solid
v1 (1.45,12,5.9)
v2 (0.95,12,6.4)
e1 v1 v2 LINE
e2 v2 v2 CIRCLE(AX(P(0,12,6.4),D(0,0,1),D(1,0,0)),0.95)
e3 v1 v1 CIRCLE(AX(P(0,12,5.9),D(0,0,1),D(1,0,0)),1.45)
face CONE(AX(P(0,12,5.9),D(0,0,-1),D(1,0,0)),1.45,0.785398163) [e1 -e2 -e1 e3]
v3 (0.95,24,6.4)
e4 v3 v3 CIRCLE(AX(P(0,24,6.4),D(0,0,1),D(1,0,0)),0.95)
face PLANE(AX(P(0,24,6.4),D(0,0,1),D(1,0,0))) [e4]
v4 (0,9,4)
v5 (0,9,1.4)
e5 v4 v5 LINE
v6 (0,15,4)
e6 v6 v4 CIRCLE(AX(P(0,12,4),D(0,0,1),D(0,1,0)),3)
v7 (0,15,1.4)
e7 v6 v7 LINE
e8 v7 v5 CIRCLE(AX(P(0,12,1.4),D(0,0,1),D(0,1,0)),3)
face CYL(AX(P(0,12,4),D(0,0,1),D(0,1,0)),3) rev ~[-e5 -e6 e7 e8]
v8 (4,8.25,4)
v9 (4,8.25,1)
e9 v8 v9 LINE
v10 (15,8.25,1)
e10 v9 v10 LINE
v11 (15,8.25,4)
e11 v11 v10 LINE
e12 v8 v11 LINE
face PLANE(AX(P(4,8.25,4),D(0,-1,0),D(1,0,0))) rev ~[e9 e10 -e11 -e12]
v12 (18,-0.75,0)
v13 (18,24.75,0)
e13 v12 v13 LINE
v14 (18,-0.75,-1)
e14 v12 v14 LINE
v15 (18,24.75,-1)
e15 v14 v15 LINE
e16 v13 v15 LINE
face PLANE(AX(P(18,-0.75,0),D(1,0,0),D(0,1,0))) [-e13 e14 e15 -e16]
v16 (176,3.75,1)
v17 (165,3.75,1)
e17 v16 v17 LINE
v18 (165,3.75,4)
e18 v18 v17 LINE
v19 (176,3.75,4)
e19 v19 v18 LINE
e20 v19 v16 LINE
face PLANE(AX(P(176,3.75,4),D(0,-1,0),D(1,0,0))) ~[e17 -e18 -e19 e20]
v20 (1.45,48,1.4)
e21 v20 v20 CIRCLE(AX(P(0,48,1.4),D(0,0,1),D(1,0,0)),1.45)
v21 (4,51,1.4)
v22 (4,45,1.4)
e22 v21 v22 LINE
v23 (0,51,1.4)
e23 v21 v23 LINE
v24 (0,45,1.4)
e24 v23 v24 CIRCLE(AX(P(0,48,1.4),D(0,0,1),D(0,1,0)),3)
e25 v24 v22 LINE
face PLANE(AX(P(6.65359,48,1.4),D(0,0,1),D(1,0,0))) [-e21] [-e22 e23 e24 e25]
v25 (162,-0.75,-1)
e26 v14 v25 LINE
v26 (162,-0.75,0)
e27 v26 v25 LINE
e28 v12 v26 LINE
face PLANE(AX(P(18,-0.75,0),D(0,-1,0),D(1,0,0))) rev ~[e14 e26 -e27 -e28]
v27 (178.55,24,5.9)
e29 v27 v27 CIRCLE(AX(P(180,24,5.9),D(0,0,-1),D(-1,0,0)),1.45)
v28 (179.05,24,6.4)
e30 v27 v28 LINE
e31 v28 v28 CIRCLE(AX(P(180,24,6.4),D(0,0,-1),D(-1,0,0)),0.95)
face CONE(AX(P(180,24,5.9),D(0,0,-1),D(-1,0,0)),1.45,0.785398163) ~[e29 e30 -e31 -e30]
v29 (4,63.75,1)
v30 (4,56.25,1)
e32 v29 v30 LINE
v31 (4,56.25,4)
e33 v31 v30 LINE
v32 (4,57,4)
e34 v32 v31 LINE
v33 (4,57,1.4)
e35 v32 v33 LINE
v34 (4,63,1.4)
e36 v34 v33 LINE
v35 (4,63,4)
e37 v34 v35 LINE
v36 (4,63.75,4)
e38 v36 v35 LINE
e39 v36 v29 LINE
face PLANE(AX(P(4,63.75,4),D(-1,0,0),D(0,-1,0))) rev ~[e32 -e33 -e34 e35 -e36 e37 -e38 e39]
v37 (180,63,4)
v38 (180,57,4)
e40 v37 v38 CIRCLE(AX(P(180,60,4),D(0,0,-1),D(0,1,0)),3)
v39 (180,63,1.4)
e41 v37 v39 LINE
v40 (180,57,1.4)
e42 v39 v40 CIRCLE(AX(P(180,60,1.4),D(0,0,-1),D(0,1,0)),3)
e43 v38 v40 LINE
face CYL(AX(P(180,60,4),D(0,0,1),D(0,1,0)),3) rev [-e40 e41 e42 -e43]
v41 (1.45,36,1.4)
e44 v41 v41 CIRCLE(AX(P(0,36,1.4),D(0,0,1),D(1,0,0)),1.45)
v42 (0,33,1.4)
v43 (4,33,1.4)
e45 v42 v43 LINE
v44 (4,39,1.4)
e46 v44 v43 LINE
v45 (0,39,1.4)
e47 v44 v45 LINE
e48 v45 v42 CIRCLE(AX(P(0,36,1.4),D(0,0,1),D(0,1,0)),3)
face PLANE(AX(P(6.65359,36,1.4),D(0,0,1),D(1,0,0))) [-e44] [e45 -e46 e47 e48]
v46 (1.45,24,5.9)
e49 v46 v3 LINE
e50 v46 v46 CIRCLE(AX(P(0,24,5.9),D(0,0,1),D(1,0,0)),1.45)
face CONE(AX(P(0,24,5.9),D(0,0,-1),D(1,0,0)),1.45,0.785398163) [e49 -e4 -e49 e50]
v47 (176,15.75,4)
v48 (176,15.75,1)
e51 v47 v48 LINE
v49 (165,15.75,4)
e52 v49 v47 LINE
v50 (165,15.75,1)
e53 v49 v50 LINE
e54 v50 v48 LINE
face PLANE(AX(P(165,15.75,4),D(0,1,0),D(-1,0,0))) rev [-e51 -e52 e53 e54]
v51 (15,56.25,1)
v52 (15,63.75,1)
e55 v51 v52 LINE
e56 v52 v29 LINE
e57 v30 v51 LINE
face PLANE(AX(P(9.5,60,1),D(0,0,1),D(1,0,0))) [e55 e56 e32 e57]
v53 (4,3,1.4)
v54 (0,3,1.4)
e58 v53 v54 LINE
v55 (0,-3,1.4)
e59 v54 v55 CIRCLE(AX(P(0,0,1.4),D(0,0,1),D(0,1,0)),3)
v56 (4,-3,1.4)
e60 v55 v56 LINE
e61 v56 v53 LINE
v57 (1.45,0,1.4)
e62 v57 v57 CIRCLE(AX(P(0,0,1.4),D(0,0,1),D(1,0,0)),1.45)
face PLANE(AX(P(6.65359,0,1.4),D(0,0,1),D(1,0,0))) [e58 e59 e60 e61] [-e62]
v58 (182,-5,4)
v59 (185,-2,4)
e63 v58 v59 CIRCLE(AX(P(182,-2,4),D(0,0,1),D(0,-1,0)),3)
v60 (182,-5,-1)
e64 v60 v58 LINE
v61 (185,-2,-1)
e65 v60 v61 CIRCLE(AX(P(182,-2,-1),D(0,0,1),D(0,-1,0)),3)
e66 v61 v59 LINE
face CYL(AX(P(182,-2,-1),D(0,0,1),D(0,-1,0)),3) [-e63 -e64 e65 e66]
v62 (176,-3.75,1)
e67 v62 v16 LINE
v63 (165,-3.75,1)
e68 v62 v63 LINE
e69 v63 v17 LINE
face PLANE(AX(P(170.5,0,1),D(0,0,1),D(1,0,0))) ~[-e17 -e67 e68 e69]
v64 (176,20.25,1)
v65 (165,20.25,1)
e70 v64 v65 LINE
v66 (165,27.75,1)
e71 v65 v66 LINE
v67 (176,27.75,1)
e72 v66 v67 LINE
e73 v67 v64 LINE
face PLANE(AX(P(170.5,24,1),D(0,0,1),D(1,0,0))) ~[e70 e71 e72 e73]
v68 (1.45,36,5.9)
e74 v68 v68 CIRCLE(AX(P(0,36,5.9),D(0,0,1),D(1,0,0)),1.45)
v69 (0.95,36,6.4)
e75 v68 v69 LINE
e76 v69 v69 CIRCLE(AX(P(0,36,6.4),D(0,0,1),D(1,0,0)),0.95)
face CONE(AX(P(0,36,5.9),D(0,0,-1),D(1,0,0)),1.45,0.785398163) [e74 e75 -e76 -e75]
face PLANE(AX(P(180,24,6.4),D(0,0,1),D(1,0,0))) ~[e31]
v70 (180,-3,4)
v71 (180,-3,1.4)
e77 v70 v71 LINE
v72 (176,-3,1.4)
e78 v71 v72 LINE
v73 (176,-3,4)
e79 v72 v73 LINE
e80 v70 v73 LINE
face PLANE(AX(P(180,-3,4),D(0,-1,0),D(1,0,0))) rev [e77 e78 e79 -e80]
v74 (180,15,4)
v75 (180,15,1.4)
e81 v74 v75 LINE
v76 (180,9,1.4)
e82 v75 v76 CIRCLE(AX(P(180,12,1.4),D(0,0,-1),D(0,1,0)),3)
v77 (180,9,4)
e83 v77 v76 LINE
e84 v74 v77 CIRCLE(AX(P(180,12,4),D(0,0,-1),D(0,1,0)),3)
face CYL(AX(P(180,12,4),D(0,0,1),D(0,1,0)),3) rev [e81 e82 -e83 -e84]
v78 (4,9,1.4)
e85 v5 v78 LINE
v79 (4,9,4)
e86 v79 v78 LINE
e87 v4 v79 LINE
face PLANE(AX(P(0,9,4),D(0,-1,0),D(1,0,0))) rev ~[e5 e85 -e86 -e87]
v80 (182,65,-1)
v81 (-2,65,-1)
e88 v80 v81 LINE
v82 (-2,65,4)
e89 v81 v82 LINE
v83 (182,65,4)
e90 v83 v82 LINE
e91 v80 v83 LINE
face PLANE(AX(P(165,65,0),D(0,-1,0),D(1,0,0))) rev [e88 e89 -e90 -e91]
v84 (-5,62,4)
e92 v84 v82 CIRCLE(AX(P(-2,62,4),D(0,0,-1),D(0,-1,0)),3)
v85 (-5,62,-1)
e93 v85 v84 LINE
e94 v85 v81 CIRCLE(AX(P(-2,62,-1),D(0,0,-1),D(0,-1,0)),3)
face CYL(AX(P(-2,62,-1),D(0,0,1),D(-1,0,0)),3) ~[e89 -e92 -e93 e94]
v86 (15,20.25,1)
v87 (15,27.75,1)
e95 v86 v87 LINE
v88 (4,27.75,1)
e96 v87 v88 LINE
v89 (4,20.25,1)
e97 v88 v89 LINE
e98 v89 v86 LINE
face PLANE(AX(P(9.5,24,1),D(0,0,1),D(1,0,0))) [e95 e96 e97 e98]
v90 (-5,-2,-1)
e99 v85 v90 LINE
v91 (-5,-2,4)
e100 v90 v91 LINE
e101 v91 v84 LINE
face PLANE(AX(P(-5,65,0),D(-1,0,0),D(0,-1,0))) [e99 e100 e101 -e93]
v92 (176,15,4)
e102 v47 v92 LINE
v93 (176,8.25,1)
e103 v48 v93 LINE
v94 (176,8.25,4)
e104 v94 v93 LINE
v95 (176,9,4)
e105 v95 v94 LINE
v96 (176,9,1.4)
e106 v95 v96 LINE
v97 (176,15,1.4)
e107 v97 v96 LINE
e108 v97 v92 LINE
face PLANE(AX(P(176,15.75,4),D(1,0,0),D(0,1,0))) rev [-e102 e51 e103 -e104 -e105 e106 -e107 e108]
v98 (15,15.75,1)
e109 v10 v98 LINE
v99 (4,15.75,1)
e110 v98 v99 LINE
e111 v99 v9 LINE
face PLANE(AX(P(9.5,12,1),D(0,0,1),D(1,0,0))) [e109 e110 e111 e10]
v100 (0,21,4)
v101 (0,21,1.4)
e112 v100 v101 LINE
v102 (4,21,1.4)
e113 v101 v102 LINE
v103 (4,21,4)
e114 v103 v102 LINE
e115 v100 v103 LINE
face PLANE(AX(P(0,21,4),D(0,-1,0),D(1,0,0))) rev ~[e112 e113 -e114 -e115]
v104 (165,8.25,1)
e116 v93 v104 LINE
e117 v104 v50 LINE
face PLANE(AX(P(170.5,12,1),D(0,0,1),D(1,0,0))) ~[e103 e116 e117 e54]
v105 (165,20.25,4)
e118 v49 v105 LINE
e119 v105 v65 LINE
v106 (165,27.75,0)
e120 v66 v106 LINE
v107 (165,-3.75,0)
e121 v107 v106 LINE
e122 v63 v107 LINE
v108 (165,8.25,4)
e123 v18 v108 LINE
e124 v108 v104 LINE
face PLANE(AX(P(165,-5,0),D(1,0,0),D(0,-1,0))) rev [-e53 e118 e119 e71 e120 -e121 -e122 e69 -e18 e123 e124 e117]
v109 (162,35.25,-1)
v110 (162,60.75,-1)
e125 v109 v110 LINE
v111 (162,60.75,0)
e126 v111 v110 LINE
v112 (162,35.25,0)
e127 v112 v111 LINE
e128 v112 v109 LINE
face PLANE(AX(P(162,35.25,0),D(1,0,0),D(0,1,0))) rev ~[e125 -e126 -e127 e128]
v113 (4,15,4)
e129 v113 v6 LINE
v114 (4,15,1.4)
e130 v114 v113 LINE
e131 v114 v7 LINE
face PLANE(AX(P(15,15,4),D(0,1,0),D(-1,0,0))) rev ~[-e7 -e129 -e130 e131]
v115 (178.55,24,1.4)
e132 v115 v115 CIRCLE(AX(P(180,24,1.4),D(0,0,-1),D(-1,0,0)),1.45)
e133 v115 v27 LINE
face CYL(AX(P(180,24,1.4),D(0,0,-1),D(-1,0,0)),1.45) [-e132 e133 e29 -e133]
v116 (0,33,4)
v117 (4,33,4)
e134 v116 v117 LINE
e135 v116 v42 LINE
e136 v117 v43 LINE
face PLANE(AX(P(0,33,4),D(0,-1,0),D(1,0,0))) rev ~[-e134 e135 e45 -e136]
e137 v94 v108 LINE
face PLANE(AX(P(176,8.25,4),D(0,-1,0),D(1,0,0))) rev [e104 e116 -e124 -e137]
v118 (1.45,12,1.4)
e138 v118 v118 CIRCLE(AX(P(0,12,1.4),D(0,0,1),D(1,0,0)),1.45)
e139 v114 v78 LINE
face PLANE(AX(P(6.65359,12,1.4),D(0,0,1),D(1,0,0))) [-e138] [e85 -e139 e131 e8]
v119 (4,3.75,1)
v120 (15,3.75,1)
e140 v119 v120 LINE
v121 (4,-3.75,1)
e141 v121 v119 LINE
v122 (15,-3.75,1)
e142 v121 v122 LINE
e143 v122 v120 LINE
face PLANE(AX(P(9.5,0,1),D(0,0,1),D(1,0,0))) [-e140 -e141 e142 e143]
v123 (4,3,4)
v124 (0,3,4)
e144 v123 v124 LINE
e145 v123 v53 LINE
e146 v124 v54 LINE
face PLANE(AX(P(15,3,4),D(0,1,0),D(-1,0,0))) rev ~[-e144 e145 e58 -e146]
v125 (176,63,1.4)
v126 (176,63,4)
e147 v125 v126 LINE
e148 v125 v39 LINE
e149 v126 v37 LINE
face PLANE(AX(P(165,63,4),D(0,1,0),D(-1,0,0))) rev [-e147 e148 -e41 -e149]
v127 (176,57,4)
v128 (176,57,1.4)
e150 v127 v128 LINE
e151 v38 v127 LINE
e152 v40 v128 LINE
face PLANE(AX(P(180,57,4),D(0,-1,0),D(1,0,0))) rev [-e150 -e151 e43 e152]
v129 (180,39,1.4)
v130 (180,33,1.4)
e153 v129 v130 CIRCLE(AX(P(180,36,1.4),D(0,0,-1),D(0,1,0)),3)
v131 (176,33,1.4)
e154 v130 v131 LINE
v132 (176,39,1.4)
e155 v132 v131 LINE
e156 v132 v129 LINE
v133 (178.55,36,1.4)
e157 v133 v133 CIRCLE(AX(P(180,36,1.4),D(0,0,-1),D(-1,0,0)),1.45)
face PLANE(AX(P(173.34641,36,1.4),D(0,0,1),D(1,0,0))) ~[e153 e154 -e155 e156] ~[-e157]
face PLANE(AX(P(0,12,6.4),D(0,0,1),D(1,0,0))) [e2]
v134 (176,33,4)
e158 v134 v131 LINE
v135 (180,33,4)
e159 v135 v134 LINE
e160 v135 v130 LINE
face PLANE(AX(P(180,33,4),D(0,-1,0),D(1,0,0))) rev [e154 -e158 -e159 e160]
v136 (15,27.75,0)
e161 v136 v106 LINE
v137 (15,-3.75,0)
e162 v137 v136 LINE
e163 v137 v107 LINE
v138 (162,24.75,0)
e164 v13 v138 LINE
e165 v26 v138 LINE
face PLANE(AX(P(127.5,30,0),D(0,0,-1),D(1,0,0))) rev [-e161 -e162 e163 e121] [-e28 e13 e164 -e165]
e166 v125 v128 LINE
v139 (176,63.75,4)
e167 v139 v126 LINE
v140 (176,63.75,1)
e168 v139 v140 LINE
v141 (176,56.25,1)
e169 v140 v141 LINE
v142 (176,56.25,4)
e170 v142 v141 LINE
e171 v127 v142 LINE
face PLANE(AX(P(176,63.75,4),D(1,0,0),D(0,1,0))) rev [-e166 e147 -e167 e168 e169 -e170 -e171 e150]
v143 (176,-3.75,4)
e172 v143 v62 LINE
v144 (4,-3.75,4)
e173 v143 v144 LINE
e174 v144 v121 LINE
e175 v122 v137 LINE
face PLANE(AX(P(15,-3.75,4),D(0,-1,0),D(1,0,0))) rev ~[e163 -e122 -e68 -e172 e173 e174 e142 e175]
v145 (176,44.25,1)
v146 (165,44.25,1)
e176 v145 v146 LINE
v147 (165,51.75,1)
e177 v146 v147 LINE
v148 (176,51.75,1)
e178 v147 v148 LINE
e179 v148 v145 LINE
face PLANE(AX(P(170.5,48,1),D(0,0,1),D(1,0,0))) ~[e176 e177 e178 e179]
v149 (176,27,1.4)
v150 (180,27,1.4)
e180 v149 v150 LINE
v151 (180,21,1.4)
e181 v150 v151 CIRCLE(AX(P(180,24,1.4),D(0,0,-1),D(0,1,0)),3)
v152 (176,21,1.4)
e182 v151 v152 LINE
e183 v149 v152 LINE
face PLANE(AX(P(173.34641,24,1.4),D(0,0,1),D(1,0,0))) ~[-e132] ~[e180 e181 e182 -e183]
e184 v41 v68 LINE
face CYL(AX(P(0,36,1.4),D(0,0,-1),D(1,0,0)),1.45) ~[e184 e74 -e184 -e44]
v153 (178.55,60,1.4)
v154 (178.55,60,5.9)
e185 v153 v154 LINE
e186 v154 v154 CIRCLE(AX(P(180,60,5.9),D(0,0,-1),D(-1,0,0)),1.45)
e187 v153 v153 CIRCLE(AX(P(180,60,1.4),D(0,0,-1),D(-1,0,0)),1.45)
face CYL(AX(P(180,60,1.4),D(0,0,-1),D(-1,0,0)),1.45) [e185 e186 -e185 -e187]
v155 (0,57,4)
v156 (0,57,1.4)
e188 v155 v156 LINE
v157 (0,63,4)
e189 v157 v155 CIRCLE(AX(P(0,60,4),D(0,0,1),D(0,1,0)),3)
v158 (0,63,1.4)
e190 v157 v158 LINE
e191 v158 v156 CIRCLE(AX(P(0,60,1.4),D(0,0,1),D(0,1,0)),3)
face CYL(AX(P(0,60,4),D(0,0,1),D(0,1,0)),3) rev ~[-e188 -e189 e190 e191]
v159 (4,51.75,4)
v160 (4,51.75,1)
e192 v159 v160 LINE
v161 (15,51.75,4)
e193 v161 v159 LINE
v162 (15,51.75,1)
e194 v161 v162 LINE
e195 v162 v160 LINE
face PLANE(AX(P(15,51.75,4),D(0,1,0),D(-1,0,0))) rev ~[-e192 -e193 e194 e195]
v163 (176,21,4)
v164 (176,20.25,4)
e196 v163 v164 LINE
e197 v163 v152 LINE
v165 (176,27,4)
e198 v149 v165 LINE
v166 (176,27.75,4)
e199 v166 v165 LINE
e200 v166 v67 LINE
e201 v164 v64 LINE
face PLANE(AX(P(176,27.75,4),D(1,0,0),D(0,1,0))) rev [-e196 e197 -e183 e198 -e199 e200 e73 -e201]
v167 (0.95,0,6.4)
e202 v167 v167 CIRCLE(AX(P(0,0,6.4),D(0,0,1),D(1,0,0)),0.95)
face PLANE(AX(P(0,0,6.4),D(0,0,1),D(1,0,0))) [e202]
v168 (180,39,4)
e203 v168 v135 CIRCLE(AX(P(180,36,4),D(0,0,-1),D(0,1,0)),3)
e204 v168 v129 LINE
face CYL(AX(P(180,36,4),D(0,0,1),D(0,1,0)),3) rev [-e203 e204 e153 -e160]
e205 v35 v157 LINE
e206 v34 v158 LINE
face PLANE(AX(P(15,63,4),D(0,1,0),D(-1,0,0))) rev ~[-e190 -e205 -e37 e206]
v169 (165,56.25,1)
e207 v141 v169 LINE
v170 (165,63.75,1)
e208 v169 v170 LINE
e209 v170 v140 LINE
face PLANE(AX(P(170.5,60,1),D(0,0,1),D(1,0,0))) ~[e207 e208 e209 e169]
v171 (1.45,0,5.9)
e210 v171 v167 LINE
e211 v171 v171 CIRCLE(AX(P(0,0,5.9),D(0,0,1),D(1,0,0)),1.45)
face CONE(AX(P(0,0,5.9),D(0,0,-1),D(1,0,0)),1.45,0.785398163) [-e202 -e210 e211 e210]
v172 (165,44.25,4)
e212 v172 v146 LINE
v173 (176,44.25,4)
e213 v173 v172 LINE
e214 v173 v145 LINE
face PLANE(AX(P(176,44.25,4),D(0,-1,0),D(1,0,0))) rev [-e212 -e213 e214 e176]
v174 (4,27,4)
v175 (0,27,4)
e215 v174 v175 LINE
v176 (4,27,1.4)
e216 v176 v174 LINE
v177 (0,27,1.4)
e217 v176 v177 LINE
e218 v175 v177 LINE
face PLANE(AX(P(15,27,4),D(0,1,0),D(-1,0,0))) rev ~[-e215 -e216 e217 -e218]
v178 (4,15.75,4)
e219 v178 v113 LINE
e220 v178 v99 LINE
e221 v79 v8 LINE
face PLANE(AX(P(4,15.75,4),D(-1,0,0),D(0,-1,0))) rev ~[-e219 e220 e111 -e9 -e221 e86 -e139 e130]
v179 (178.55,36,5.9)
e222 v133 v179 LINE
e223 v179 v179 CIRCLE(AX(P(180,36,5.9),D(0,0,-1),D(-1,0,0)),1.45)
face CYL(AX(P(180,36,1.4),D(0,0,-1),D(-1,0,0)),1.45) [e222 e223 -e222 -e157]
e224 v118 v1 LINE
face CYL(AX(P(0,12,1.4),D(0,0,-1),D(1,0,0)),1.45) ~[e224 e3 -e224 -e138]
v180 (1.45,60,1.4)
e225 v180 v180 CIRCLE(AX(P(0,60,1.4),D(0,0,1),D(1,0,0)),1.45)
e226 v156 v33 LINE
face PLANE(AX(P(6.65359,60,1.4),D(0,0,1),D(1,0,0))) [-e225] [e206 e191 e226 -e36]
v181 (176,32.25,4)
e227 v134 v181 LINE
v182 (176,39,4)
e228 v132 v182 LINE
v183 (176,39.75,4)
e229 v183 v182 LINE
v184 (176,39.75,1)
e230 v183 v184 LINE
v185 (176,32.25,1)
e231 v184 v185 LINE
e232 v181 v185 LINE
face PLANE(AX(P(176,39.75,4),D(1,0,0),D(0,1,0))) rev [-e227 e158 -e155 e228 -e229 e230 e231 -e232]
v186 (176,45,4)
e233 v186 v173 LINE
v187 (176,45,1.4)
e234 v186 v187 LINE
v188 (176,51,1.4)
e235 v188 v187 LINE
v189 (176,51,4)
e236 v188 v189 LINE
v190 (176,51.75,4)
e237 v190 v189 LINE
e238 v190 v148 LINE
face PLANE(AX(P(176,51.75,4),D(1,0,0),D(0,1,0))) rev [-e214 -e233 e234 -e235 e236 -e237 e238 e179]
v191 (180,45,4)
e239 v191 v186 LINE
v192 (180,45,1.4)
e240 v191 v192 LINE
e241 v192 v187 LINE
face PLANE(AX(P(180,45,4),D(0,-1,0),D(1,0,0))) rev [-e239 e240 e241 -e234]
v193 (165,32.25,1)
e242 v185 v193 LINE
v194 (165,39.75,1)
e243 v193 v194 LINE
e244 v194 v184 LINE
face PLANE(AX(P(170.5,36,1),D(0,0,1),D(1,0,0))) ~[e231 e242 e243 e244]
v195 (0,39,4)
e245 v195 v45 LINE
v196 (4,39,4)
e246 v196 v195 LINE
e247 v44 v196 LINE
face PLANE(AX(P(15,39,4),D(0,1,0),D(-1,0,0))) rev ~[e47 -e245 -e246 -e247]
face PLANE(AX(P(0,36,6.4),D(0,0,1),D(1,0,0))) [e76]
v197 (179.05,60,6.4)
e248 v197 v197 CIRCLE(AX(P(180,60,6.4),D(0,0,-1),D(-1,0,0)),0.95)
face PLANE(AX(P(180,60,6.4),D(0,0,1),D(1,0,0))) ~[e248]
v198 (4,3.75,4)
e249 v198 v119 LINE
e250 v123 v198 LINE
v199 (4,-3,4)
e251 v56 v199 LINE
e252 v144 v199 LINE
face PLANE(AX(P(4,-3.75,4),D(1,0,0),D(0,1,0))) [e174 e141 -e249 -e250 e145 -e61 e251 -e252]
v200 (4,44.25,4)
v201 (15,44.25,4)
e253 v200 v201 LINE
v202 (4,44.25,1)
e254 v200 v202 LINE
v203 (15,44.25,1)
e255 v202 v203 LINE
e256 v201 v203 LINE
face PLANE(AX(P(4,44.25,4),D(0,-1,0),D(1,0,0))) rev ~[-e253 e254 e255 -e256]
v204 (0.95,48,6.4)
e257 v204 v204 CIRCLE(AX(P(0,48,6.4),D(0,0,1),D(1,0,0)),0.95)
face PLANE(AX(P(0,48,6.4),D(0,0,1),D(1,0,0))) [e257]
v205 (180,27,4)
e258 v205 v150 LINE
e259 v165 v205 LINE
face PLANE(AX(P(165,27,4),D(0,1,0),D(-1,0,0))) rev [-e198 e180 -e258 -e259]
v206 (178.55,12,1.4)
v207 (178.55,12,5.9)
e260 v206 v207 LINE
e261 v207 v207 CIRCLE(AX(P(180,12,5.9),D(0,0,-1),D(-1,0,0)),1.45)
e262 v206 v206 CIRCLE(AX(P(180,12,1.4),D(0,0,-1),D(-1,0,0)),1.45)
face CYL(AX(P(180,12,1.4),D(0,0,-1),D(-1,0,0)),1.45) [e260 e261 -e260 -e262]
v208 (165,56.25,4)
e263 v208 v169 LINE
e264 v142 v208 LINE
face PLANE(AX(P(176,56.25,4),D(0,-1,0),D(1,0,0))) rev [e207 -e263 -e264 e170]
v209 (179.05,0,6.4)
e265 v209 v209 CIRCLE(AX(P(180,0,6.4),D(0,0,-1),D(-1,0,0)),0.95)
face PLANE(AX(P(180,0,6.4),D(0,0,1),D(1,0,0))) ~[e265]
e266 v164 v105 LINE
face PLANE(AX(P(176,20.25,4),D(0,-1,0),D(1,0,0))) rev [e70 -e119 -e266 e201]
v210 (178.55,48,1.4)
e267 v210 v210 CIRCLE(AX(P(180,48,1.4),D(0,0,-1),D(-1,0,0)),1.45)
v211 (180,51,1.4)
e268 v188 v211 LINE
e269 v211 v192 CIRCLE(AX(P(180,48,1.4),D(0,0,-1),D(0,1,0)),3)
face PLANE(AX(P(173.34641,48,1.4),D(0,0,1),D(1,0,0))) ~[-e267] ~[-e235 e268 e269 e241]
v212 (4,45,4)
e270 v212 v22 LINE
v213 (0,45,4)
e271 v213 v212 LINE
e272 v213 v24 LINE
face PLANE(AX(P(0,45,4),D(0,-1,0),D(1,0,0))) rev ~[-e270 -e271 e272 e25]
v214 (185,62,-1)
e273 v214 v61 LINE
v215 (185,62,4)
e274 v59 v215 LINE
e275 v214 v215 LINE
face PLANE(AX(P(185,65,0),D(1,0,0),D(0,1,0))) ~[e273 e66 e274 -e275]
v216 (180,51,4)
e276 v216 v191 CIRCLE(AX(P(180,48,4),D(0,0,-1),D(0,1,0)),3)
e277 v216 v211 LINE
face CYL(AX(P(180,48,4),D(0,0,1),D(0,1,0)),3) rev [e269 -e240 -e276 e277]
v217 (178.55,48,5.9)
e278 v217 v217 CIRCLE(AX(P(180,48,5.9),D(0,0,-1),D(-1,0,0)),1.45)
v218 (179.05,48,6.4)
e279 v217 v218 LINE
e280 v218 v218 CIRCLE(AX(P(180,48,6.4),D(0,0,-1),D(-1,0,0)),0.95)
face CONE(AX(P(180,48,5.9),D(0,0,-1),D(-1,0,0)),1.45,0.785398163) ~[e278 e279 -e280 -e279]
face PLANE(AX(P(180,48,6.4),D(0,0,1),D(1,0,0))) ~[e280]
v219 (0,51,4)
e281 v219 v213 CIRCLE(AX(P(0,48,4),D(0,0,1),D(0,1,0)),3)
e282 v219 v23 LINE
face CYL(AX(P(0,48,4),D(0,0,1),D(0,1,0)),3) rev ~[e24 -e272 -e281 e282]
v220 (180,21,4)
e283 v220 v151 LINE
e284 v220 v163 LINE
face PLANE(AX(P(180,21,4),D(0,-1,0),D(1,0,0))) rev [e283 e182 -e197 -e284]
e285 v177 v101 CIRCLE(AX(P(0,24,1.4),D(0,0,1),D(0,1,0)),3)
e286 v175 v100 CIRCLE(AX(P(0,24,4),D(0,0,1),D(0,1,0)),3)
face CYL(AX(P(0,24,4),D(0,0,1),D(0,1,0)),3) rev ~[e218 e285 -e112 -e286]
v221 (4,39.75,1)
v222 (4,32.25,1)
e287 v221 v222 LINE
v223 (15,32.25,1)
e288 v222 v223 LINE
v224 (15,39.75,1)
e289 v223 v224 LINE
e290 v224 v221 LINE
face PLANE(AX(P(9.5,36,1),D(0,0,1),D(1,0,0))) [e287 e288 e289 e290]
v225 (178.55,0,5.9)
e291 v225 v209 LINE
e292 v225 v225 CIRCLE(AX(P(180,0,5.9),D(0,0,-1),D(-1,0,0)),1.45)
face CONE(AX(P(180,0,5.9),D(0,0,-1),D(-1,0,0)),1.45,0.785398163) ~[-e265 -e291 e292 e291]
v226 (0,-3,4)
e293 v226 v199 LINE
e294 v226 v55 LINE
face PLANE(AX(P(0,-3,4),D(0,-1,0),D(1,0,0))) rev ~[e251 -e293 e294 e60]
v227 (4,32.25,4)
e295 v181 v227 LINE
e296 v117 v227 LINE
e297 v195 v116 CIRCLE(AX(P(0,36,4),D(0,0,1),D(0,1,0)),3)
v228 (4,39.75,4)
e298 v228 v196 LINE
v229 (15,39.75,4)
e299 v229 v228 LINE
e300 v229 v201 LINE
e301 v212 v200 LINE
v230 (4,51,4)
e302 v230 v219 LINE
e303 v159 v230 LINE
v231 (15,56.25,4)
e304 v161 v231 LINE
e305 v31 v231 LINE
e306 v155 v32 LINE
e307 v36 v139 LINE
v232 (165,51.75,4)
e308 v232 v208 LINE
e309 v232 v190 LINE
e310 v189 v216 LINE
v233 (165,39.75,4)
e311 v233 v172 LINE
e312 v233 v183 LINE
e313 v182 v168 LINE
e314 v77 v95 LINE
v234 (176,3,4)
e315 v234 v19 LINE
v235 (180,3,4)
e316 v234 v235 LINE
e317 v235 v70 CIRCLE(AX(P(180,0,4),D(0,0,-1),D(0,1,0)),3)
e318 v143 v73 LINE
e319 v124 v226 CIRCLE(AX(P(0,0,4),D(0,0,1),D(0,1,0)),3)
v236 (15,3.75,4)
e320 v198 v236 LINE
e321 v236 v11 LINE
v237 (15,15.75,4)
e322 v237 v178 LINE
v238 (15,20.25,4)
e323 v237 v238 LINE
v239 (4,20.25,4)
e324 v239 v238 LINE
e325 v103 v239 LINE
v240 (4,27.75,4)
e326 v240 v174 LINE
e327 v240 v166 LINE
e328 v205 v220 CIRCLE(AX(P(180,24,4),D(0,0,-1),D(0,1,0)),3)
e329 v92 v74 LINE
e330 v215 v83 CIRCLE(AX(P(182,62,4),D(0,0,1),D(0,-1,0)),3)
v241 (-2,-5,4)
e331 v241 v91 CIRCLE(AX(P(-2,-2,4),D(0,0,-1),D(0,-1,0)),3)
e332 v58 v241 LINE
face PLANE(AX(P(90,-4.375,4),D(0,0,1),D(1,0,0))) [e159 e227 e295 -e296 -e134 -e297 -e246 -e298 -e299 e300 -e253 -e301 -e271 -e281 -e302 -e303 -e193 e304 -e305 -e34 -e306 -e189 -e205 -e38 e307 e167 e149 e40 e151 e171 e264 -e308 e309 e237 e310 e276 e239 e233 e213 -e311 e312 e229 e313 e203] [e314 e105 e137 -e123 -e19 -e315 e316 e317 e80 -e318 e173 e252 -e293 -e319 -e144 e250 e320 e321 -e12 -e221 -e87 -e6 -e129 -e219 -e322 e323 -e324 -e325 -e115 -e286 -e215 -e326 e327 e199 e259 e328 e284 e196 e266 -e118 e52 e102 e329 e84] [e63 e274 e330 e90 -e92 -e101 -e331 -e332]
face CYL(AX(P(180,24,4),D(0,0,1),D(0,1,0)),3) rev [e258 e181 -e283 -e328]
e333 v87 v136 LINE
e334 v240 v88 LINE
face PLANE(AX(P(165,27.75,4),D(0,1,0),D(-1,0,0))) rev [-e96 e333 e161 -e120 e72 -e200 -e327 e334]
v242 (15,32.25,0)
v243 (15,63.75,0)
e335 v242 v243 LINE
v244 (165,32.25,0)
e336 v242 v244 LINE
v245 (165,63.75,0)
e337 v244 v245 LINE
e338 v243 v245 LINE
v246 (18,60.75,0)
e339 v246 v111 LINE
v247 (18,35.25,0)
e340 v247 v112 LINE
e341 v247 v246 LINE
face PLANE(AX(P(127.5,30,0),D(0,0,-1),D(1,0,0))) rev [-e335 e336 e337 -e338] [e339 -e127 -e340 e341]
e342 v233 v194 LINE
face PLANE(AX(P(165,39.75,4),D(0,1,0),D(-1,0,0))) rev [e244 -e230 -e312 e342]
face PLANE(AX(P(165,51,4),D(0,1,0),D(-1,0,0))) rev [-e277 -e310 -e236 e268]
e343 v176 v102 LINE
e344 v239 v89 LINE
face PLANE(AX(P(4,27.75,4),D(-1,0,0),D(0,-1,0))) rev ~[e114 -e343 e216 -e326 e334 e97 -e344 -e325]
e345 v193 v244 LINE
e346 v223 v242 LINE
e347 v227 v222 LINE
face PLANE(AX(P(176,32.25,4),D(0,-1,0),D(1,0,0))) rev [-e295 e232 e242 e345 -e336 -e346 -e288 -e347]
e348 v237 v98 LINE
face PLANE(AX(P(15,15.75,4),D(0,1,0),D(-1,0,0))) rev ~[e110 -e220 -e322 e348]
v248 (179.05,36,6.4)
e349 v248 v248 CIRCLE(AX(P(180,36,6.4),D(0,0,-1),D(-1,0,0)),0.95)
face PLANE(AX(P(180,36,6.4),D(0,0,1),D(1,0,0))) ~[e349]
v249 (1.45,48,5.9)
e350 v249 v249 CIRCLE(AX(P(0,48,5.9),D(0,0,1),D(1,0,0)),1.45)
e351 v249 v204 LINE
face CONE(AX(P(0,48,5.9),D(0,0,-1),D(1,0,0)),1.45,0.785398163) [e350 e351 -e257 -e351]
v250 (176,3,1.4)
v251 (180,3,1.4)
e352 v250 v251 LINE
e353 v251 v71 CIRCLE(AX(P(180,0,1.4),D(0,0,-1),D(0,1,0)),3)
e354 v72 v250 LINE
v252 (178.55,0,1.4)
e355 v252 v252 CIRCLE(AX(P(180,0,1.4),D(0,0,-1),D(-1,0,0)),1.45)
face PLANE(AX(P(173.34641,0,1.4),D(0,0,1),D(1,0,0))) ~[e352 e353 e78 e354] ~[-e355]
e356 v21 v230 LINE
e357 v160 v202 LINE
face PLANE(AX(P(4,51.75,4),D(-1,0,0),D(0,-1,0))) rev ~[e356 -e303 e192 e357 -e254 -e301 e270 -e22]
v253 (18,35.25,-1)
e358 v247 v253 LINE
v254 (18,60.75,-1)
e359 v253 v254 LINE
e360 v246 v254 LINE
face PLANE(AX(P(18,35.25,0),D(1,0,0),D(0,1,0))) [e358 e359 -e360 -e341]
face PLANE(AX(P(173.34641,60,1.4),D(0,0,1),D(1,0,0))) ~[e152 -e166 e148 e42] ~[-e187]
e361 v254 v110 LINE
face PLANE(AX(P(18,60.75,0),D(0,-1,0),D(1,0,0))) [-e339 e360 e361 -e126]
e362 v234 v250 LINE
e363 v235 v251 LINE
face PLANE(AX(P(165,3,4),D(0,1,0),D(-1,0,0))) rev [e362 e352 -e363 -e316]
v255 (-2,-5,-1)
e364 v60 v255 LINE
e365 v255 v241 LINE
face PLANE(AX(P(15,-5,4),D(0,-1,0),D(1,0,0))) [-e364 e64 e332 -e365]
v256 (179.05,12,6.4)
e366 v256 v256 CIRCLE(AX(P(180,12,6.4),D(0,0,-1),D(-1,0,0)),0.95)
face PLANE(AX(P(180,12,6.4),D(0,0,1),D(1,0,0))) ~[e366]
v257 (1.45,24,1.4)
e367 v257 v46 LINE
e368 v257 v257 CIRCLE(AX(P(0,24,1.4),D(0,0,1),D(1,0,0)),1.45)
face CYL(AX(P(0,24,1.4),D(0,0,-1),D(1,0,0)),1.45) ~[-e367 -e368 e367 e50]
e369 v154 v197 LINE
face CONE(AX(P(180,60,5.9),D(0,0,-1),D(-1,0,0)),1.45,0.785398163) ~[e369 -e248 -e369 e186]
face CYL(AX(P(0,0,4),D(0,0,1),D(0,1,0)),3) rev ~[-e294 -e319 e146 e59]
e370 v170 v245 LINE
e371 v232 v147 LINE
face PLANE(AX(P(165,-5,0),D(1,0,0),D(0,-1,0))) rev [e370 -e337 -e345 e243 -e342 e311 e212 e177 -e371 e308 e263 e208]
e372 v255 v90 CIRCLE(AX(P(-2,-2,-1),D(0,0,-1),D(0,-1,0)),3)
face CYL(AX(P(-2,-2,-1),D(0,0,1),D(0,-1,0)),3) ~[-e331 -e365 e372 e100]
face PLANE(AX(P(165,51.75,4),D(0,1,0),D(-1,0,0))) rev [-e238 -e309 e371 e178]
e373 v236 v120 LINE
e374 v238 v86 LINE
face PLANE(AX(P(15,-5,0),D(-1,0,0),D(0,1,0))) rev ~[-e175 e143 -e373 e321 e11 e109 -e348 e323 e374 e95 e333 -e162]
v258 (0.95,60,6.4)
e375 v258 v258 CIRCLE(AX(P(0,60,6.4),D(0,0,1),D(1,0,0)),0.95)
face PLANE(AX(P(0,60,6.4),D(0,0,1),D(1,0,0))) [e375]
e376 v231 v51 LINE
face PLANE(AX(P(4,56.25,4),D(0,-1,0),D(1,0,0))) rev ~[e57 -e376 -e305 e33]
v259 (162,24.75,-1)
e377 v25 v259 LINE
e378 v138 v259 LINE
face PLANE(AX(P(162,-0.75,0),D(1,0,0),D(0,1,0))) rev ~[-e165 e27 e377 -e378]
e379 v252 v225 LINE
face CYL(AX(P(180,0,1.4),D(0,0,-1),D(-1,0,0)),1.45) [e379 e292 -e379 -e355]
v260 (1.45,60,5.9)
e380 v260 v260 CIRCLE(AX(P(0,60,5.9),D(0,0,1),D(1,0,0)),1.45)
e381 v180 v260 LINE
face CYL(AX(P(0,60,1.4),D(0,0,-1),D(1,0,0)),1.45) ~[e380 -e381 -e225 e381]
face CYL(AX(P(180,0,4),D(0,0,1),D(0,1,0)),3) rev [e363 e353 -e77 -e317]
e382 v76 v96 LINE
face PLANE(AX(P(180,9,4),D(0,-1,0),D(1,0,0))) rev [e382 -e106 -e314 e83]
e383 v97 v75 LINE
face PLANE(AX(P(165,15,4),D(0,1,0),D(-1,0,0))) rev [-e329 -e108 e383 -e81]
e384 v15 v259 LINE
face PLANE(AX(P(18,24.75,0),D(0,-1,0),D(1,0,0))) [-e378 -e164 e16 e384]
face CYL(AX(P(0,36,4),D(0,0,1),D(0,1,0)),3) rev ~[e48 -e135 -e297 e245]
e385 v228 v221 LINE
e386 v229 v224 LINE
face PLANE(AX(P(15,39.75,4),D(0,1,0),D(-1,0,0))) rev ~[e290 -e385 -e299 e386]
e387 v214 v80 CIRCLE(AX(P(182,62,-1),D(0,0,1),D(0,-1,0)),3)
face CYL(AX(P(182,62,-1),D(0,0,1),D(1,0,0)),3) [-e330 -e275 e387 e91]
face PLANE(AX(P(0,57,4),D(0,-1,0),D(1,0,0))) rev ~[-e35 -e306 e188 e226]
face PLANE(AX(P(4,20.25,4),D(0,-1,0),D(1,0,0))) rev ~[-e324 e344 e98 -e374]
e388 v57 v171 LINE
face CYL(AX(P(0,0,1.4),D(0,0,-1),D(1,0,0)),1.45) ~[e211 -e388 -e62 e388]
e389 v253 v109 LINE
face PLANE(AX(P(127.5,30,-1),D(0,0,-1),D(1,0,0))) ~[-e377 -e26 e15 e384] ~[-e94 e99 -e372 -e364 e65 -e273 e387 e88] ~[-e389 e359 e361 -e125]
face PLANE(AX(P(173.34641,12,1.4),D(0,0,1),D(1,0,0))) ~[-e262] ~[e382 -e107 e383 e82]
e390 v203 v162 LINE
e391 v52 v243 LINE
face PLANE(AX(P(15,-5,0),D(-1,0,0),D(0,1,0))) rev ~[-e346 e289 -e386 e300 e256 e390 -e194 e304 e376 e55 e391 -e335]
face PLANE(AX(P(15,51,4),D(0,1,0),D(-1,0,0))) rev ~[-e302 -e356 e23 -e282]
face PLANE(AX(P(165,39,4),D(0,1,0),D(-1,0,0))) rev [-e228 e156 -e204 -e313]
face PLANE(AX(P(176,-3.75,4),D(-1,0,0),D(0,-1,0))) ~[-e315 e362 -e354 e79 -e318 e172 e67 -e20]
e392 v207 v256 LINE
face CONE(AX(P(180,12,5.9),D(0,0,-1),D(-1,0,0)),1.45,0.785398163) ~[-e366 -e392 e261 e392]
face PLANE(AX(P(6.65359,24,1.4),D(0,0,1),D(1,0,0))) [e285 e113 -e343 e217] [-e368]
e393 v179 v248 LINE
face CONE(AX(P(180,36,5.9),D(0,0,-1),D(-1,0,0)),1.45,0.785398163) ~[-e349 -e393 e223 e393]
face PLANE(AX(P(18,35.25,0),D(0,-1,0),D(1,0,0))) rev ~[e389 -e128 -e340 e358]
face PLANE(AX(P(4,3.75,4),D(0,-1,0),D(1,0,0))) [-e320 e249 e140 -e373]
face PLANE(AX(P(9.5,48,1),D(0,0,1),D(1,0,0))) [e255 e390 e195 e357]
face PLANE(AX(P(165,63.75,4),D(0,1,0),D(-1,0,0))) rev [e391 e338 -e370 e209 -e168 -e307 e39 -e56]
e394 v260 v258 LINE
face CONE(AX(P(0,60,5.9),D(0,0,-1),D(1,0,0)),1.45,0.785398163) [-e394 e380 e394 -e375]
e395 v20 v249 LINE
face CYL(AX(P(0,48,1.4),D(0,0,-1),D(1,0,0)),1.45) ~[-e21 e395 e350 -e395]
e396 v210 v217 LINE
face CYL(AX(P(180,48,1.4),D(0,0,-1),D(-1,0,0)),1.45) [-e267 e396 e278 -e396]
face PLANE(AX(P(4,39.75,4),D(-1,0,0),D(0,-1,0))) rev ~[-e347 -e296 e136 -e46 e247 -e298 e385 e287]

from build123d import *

# Parameters (mm, degrees)
F0_W      = 20
F0_H      = 70
F1_DEPTH  = 4
F3_DEPTH  = 2.6
F4_W      = 11
F4_H      = 7.5
F5_DEPTH  = 3
F6_R      = 1.45
F7_DEPTH  = 5
F8_SIZE   = 0.5
F10_W     = 75
F10_H     = 70
F9_W      = 20
F9_H      = 70
F11_DEPTH = 1
F14_W     = 150
F14_H     = 1.25
F14_H_2   = 4.5
F15_DEPTH = 4
F16_W     = 144
F16_H     = 25.5
F17_DEPTH = 1
F18_R     = 3


with BuildPart() as f1:
    # F0 (on Top) → F1 (new body)
    with BuildSketch(Plane.XY):
        with Locations((5, 30)):
            Rectangle(F0_W, F0_H)
    extrude(amount=F1_DEPTH)

    # F2 (on face) → F3 (cut)
    with BuildSketch(Plane.XY.offset(4)):
        with BuildLine():
            Line((15, 3), (0, 3))
            ThreePointArc((0, 3), (-3, 0), (0, -3))
            Line((0, -3), (15, -3))
            Line((15, -3), (15, 3))
        make_face()
        with BuildLine():
            Line((15, 15), (0, 15))
            ThreePointArc((0, 15), (-3, 12), (0, 9))
            Line((0, 9), (15, 9))
            Line((15, 9), (15, 15))
        make_face()
        with BuildLine():
            Line((15, 27), (0, 27))
            ThreePointArc((0, 27), (-3, 24), (0, 21))
            Line((0, 21), (15, 21))
            Line((15, 21), (15, 27))
        make_face()
        with BuildLine():
            Line((15, 39), (0, 39))
            ThreePointArc((0, 39), (-3, 36), (0, 33))
            Line((0, 33), (15, 33))
            Line((15, 33), (15, 39))
        make_face()
        with BuildLine():
            Line((15, 51), (0, 51))
            ThreePointArc((0, 51), (-3, 48), (0, 45))
            Line((0, 45), (15, 45))
            Line((15, 45), (15, 51))
        make_face()
        with BuildLine():
            Line((15, 63), (0, 63))
            ThreePointArc((0, 63), (-3, 60), (0, 57))
            Line((0, 57), (15, 57))
            Line((15, 57), (15, 63))
        make_face()
    extrude(amount=-F3_DEPTH, mode=Mode.SUBTRACT)

    # F4 (on face) → F5 (cut)
    with BuildSketch(Plane.XY.offset(4)):
        with Locations((9.5, 0)):
            Rectangle(F4_W, F4_H)
        Polygon((15, 15), (15, 15.75), (4, 15.75), (4, 15), (4, 8.25), (15, 8.25), (15, 9), align=None)
        Polygon((15, 27), (15, 27.75), (4, 27.75), (4, 27), (4, 20.25), (15, 20.25), (15, 21), align=None)
        Polygon((15, 39), (15, 39.75), (4, 39.75), (4, 39), (4, 32.25), (15, 32.25), (15, 33), align=None)
        Polygon((15, 51), (15, 51.75), (4, 51.75), (4, 51), (4, 44.25), (15, 44.25), (15, 45), align=None)
        Polygon((15, 63), (15, 63.75), (4, 63.75), (4, 63), (4, 56.25), (15, 56.25), (15, 57), align=None)
    extrude(amount=-F5_DEPTH, mode=Mode.SUBTRACT)

    # F6 (on face) → F7 (join)
    with BuildSketch(Plane.XY.offset(1.4)):
        Circle(F6_R)
        with Locations((0, 12)):
            Circle(F6_R)
        with Locations((0, 24)):
            Circle(F6_R)
        with Locations((0, 36)):
            Circle(F6_R)
        with Locations((0, 48)):
            Circle(F6_R)
        with Locations((0, 60)):
            Circle(F6_R)
    extrude(amount=F7_DEPTH)

    # F8
    f8_edges = [f1.edges().sort_by_distance(p)[0] for p in [
        (-1.45, 0, 6.4),
        (-1.45, 12, 6.4),
        (-1.45, 24, 6.4),
        (-1.45, 36, 6.4),
        (-1.45, 60, 6.4),
        (-1.45, 48, 6.4),
    ]]
    chamfer(f8_edges, length=F8_SIZE)

    # F10 (on face) + F9 (on face) → F11 (join)
    with BuildSketch(Plane(origin=(0, 0, 0), x_dir=(1, 0, 0), z_dir=(0, 0, -1))):
        with Locations((52.5, -30)):
            Rectangle(F10_W, F10_H)
    with BuildSketch(Plane(origin=(0, 0, 0), x_dir=(1, 0, 0), z_dir=(0, 0, -1))):
        with Locations((5, -30)):
            Rectangle(F9_W, F9_H)
    extrude(amount=F11_DEPTH)

    # F13: F1 across plane


with BuildPart() as f1_1:
    add(f1.part)
    add(f1.part.mirror(Plane(origin=(90, 30, -0.5), x_dir=(0, 1, 0), z_dir=(1, 0, 0))))

    # F14 (on face) → F15 (join, through all)
    with BuildSketch(Plane.XY.offset(4)):
        with Locations((90, -4.375)):
            Rectangle(F14_W, F14_H)
        with Locations((90, 30)):
            Rectangle(F14_W, F14_H_2)
        with Locations((90, 64.375)):
            Rectangle(F14_W, F14_H)
    extrude(amount=-F15_DEPTH)

    # F16 (on face) → F17 (cut, through all)
    with BuildSketch(Plane.XY):
        with Locations((90, 12)):
            Rectangle(F16_W, F16_H)
        with Locations((90, 48)):
            Rectangle(F16_W, F16_H)
    extrude(amount=-F17_DEPTH, mode=Mode.SUBTRACT)

    # F18
    f18_edges = [f1_1.edges().sort_by_distance(p)[0] for p in [
        (-5, -5, 1.5),
        (185, -5, 1.5),
        (185, 65, 1.5),
        (-5, 65, 1.5),
    ]]
    fillet(f18_edges, radius=F18_R)


solid = f1_1.part
